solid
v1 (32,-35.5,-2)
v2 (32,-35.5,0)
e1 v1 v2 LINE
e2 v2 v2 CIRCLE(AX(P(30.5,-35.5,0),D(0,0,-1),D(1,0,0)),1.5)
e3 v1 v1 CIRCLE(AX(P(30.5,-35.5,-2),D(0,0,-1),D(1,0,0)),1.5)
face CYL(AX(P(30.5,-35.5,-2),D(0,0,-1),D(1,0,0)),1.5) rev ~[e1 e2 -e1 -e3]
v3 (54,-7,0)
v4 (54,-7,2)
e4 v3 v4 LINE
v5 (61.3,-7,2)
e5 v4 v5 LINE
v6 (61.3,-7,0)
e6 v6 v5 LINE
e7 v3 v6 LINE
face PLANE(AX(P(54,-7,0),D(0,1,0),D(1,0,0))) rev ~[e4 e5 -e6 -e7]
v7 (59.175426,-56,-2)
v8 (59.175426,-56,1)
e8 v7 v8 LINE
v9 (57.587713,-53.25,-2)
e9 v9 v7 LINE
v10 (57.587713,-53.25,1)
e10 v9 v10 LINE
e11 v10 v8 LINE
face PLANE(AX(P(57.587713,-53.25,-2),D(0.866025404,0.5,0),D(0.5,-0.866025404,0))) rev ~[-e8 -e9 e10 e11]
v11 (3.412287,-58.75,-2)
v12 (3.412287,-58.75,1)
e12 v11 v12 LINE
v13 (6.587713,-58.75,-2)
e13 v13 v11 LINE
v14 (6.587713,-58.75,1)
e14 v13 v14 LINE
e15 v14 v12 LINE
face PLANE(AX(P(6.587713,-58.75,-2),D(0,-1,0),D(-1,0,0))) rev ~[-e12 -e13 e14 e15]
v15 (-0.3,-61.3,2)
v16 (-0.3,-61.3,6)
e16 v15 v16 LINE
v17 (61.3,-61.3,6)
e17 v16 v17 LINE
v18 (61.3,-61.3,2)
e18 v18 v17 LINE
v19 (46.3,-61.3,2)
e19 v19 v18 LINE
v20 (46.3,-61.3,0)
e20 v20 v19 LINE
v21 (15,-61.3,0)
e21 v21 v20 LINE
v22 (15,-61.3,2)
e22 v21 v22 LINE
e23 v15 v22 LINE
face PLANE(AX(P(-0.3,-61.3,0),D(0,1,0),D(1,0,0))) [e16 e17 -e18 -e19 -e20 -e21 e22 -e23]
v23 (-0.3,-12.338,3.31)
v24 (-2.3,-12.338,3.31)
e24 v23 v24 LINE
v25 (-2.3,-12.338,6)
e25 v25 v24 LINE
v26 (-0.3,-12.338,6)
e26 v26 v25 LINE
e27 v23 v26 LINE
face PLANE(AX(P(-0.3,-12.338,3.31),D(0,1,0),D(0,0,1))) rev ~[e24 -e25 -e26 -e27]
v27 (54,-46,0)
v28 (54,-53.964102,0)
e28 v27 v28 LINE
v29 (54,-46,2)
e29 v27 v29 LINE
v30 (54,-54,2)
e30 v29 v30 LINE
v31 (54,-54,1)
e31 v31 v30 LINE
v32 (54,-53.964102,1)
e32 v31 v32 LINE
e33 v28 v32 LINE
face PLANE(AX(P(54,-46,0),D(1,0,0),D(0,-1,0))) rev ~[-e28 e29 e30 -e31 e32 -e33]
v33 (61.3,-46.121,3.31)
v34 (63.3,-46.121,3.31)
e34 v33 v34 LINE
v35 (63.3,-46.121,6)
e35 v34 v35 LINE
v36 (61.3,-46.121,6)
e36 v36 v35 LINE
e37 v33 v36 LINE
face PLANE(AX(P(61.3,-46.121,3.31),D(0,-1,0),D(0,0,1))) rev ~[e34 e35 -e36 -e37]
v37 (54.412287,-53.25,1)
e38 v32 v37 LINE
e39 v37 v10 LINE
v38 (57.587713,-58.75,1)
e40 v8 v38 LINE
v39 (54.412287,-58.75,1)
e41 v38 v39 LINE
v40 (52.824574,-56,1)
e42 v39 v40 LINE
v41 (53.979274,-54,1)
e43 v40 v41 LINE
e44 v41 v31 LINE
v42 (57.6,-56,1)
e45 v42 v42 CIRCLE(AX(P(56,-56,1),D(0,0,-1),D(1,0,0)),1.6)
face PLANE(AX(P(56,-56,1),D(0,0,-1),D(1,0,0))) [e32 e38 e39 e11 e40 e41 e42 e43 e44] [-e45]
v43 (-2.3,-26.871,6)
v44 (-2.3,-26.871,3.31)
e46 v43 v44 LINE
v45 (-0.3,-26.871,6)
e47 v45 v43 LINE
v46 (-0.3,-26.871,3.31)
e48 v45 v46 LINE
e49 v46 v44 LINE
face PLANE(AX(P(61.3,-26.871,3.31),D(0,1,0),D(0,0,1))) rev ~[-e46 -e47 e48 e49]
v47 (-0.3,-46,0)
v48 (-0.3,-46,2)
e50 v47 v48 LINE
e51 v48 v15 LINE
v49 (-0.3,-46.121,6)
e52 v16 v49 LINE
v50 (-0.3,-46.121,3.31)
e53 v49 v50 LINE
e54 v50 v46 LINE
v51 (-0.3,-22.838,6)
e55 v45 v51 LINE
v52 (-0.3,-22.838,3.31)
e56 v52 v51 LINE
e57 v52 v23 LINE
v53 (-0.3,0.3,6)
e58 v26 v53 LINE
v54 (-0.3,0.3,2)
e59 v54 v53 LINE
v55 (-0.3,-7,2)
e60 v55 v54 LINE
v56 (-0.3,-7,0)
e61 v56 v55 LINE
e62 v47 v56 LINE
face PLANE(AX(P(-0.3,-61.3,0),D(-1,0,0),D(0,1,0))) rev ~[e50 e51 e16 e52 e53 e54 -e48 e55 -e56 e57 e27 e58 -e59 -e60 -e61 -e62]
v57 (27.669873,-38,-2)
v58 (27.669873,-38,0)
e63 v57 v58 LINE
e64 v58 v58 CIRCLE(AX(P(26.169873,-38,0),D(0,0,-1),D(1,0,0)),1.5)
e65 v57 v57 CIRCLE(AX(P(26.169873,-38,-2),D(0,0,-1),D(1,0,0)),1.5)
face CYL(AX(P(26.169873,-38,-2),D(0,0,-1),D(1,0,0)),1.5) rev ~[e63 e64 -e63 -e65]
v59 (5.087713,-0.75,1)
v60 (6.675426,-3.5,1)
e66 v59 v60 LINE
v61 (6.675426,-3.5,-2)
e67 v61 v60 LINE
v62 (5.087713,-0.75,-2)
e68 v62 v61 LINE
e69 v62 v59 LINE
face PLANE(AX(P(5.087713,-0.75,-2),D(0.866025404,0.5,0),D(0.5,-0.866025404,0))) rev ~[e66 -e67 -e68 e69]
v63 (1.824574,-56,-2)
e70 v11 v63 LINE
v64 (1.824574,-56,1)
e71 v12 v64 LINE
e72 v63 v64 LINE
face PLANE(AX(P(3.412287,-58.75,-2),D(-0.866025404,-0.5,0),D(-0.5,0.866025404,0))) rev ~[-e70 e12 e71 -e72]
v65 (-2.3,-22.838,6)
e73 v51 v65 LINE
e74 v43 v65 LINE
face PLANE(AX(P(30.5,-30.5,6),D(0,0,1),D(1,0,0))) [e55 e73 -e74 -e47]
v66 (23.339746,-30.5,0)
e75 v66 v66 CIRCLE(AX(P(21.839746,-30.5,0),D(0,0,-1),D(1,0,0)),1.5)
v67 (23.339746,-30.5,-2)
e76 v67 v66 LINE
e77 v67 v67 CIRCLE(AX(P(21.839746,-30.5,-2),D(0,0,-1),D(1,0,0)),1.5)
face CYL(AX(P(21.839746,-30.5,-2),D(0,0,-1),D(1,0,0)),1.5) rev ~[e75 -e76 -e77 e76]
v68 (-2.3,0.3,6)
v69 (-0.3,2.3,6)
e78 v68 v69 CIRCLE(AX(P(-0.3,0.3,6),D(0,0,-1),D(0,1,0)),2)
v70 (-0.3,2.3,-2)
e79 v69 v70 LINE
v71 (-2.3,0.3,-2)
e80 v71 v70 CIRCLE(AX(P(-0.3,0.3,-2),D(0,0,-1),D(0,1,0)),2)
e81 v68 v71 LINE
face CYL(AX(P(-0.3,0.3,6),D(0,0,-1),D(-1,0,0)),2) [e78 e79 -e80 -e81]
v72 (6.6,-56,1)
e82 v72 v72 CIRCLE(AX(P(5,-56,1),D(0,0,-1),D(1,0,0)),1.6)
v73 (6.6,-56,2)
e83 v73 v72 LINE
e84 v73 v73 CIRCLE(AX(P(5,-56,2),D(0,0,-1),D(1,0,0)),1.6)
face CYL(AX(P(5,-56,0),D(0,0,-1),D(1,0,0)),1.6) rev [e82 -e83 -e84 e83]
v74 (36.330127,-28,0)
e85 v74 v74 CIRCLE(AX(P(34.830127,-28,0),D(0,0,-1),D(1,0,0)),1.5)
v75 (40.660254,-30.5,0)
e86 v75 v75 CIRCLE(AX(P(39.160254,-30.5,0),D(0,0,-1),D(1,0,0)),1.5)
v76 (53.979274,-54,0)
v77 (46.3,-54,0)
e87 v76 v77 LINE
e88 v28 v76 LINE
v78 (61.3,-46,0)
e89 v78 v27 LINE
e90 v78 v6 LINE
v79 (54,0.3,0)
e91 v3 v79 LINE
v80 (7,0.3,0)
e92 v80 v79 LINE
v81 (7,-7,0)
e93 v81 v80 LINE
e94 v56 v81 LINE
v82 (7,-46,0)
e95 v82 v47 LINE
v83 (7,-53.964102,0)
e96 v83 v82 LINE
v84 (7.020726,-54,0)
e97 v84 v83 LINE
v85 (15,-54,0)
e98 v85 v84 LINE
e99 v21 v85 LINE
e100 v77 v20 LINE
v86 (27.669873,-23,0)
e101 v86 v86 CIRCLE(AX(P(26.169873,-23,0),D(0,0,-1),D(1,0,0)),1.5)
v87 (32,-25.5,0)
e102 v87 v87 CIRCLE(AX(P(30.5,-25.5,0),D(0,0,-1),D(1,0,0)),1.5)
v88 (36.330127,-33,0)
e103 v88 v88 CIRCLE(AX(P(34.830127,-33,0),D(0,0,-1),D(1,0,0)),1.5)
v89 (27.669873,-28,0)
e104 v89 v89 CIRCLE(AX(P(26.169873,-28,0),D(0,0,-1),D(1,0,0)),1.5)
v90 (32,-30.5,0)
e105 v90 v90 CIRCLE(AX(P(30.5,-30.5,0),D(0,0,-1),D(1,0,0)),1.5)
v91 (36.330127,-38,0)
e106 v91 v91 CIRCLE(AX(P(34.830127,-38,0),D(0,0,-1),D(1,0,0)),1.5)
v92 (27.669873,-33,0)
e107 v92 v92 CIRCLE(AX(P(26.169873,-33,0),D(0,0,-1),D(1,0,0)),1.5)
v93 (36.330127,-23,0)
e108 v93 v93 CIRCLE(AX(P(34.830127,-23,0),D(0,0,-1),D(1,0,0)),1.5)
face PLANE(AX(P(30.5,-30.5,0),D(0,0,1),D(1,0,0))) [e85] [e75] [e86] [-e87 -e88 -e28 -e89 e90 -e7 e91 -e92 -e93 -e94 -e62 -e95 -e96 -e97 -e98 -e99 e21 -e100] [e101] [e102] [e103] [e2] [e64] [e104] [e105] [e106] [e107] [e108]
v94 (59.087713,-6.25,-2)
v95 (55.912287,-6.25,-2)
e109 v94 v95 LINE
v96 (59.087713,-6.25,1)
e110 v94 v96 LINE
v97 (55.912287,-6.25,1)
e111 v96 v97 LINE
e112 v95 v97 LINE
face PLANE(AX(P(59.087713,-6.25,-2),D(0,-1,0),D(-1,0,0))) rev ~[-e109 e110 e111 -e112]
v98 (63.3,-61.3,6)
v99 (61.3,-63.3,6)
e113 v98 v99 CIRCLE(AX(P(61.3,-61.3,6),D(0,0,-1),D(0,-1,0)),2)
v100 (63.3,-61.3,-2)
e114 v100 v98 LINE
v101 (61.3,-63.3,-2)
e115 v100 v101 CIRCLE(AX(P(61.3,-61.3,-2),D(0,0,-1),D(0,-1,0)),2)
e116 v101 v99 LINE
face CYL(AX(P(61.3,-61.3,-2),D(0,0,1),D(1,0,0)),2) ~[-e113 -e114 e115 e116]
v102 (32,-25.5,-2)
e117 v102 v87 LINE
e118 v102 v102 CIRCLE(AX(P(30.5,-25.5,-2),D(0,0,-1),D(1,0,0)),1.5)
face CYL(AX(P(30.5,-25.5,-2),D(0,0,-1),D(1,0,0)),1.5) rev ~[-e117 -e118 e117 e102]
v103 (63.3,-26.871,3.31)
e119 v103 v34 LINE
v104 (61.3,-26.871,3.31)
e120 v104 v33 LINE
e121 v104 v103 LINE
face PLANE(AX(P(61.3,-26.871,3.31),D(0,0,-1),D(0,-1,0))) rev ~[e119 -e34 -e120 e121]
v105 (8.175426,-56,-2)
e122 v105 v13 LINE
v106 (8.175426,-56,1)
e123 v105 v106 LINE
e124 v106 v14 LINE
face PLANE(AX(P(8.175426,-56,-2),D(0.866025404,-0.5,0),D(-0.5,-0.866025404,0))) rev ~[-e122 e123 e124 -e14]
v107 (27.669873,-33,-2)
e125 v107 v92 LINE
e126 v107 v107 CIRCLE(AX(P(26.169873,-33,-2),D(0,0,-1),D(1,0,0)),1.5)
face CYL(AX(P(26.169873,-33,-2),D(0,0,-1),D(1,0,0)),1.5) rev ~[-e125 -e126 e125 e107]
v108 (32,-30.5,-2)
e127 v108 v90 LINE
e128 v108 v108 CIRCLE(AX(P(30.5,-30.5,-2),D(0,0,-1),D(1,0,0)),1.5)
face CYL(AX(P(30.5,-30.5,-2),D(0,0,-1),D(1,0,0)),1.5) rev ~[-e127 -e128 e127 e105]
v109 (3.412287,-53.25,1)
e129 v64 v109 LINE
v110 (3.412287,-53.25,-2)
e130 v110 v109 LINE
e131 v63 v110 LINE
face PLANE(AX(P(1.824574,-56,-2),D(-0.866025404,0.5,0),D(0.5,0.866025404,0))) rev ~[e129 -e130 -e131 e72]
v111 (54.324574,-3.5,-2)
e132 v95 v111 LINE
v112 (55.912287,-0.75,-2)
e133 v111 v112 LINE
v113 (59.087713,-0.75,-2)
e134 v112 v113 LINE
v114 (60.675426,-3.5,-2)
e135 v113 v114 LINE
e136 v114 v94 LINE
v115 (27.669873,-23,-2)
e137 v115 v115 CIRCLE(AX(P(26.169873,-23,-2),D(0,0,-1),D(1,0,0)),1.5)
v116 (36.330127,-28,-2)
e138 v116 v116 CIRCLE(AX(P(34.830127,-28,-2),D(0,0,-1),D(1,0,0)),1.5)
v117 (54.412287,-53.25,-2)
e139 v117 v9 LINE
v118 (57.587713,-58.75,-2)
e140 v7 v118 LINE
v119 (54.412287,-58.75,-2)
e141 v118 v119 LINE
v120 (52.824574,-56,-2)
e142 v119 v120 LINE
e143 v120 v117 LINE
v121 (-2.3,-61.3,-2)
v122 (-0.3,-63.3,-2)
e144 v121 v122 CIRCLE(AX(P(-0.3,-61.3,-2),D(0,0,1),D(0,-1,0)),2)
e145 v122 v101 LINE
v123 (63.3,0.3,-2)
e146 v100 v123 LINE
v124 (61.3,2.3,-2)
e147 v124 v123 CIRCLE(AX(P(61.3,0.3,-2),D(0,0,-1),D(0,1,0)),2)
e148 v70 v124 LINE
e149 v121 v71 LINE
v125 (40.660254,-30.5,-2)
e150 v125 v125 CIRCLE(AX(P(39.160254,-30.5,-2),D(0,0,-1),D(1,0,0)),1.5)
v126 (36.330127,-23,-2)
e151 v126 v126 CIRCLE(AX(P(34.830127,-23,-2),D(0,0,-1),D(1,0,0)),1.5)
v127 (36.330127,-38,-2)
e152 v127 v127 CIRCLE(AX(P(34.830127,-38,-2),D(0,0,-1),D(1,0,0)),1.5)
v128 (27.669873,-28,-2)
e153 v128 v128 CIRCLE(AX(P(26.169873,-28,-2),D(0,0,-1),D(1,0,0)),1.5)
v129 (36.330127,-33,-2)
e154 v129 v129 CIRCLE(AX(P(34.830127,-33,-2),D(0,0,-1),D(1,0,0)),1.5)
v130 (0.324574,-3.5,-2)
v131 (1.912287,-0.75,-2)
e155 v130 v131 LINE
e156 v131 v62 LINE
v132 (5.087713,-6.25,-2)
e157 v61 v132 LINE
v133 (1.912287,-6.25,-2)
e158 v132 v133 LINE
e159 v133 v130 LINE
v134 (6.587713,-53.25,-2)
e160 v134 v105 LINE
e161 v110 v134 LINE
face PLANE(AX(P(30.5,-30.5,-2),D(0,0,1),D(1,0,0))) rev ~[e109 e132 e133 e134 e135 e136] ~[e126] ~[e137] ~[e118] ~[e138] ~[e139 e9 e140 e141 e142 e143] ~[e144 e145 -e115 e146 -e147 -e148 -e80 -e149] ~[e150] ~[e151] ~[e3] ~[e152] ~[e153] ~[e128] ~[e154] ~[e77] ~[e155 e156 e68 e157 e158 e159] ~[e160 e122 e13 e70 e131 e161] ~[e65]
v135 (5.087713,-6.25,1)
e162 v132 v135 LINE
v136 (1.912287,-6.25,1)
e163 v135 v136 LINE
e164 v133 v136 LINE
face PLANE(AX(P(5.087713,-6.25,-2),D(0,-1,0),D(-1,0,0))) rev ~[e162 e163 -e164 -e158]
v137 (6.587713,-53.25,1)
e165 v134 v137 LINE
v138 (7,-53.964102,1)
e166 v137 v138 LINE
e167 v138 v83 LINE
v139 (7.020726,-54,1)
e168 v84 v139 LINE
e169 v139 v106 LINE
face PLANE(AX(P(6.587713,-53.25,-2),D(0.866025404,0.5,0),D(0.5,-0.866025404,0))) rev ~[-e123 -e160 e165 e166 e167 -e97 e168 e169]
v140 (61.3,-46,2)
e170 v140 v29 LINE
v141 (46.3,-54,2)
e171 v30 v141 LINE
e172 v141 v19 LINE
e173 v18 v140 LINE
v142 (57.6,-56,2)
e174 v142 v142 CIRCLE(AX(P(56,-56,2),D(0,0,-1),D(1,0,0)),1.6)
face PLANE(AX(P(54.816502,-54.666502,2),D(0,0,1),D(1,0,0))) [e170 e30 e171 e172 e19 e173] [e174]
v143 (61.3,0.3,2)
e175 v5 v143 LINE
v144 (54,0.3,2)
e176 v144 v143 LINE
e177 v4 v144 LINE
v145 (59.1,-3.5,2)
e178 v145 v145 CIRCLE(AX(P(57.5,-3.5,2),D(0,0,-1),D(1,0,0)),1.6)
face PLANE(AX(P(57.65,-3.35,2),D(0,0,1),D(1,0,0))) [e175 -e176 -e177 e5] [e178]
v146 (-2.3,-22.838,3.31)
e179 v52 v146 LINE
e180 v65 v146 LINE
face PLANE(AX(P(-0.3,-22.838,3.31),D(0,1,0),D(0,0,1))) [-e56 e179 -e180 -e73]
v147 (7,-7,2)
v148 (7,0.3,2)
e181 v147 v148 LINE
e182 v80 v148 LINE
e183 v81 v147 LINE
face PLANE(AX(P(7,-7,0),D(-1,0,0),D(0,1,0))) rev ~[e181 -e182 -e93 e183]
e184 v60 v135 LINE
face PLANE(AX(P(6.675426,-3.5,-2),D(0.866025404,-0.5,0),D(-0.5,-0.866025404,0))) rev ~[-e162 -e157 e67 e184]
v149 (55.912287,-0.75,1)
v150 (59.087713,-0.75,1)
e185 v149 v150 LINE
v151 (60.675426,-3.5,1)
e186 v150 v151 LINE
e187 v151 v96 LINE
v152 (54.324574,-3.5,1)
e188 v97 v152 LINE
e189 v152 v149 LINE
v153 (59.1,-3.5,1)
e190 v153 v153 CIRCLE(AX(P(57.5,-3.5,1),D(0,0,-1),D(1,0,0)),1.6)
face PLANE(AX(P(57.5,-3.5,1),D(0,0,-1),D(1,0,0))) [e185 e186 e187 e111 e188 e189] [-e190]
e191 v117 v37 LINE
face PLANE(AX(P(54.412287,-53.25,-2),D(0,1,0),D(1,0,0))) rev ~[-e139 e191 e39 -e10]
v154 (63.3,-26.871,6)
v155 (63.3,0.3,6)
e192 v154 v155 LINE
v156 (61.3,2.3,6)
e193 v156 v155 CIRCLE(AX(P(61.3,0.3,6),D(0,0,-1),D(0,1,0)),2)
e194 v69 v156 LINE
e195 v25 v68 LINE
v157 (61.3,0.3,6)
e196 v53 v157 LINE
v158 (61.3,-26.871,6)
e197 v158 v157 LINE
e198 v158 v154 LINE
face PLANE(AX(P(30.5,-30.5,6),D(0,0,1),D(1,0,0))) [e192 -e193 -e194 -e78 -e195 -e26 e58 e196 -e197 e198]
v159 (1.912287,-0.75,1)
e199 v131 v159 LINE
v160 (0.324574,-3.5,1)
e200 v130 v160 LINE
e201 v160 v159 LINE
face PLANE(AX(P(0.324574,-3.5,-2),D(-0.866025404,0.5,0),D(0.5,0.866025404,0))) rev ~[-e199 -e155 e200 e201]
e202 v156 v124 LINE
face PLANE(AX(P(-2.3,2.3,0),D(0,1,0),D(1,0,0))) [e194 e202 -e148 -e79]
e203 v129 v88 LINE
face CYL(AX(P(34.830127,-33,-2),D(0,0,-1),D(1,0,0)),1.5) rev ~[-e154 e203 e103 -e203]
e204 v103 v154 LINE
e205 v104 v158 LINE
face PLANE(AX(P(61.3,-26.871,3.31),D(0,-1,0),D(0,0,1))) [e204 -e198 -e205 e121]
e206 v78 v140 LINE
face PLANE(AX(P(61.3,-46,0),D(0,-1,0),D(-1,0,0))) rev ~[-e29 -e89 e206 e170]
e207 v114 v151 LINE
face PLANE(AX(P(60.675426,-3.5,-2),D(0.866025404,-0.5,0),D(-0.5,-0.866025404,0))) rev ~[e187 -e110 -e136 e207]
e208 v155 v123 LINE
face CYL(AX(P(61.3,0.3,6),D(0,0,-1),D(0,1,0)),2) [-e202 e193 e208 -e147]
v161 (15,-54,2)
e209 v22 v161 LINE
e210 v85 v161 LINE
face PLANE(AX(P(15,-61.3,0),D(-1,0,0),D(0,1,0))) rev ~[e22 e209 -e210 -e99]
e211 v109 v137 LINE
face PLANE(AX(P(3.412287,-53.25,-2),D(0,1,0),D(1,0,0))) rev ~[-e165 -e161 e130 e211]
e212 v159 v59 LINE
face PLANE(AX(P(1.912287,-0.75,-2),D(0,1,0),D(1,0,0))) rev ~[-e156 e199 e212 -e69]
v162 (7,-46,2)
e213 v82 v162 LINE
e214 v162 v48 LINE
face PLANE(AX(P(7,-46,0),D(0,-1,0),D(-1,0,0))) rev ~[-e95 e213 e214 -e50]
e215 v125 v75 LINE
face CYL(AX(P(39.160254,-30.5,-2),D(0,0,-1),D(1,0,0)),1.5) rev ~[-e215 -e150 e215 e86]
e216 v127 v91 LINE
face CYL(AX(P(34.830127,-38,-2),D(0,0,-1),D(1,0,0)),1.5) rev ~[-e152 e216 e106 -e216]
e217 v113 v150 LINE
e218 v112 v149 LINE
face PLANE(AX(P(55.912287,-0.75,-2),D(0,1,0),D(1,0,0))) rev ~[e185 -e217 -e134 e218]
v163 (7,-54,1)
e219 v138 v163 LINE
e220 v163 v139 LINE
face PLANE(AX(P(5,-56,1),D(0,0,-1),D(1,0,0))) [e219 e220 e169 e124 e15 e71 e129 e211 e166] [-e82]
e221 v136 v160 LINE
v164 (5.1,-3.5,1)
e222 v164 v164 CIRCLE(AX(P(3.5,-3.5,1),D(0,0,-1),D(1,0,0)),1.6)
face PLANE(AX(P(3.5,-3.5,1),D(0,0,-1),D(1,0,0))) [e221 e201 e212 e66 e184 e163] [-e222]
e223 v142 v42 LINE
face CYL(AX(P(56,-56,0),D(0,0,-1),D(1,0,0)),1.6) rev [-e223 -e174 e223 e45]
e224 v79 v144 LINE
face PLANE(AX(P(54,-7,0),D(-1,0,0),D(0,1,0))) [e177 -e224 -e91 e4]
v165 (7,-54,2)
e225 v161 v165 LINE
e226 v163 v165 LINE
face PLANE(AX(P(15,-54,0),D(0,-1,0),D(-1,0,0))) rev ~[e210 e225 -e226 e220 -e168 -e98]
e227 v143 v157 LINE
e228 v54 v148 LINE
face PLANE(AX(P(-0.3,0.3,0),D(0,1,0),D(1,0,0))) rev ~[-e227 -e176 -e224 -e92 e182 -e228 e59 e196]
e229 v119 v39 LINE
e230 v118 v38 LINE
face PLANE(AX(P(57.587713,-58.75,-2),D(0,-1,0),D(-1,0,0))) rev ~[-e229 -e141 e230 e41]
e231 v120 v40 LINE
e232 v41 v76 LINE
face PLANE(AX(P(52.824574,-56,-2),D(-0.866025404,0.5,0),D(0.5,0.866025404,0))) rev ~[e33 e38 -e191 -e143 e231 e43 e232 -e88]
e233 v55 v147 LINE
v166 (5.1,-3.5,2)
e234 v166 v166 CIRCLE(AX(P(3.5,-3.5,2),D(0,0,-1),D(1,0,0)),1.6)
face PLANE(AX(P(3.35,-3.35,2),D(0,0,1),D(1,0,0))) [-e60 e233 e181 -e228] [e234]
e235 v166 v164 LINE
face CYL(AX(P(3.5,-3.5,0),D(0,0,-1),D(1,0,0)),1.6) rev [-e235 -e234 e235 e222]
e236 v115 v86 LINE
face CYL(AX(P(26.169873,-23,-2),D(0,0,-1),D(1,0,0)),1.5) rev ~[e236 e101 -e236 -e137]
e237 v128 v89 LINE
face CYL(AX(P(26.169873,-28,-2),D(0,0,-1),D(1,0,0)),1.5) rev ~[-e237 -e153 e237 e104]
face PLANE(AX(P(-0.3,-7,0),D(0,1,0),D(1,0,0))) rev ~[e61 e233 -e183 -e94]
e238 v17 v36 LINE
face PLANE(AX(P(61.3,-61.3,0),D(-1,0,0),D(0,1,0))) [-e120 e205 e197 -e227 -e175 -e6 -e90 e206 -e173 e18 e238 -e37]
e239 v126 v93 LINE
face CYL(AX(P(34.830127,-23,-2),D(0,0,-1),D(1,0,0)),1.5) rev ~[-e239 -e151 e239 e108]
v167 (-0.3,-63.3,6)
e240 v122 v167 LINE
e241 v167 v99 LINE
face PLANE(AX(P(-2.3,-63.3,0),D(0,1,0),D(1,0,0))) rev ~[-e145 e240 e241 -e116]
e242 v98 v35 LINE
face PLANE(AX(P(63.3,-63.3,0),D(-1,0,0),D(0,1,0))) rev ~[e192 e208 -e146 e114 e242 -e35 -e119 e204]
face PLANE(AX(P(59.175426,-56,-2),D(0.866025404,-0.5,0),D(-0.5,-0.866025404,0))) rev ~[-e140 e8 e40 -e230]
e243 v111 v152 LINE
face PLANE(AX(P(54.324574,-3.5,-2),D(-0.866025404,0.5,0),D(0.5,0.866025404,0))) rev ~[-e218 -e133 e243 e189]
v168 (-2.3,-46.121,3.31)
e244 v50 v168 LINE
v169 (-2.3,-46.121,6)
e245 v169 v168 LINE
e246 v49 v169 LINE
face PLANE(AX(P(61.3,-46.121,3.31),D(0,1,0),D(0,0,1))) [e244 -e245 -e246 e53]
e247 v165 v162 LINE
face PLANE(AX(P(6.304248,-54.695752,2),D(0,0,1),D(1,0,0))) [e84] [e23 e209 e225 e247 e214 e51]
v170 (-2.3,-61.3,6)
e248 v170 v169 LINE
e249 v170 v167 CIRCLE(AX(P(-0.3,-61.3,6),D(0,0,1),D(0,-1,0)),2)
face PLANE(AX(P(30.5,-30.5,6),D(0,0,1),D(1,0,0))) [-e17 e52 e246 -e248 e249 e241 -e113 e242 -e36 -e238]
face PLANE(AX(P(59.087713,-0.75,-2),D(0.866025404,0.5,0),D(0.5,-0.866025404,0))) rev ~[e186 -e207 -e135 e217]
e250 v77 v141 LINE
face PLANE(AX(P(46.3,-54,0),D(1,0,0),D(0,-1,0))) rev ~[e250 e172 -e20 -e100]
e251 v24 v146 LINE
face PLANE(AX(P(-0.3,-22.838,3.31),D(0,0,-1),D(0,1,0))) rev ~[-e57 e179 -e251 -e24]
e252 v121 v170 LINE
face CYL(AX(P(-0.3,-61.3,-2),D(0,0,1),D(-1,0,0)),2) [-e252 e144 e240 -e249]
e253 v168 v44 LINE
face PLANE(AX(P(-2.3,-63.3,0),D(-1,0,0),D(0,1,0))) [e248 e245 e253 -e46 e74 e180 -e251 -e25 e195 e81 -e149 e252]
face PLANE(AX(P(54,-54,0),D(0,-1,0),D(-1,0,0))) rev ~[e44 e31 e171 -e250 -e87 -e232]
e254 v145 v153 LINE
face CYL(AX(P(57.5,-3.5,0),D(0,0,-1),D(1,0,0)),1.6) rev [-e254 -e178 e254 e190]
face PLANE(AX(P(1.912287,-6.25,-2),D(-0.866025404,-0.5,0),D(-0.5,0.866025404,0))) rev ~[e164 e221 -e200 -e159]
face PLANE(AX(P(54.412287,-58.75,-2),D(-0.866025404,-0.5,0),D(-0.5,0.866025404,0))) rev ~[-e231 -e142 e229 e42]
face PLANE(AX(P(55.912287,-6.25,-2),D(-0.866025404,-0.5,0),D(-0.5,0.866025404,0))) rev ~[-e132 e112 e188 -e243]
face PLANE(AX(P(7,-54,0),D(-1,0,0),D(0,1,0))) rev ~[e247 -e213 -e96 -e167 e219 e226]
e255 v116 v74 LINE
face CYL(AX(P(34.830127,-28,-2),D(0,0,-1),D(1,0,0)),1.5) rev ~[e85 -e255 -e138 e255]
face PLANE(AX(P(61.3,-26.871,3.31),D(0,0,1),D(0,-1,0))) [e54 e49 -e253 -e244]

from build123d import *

# Parameters (mm, degrees)
F0_W          = 65.6000001021
F0_H          = 65.6000001021
F0_W_2        = 61.6
F0_H_2        = 61.6
F0_R          = 1.6
F1_DEPTH      = 2
F2_DEPTH      = 6
F3_W          = 7.3
F3_H          = 7.3
F4_DEPTH      = 2
F5_DEPTH      = 6.001
F6_W          = 19.25
F6_H          = 2.69
F7_DEPTH      = 2.001000051
F7_DEPTH_BACK = 63.601000051
F8_W          = 10.5
F8_H          = 2.69
F9_DEPTH      = 2.001000051
F11_DEPTH     = 3
F12_R         = 1.5
F13_DEPTH     = 8.001
F14_R         = 2


with BuildPart() as f1:
    # F0 (on Top) → F1 (new body)
    with BuildSketch(Plane.XY):
        with Locations((30.5, -30.5)):
            Rectangle(F0_W, F0_H)
        with Locations((30.5, -30.5)):
            Rectangle(F0_W_2, F0_H_2, mode=Mode.SUBTRACT)
        with Locations((30.5, -30.5)):
            Rectangle(F0_W_2, F0_H_2)
        with Locations((5, -56)):
            Circle(F0_R, mode=Mode.SUBTRACT)
        with Locations((56, -56)):
            Circle(F0_R, mode=Mode.SUBTRACT)
        with Locations((3.5, -3.5)):
            Circle(F0_R, mode=Mode.SUBTRACT)
        with Locations((57.5, -3.5)):
            Circle(F0_R, mode=Mode.SUBTRACT)
    extrude(amount=-F1_DEPTH)

    # F0 (on Top) → F2 (join)
    with BuildSketch(Plane.XY):
        with Locations((30.5, -30.5)):
            Rectangle(F0_W, F0_H)
        with Locations((30.5, -30.5)):
            Rectangle(F0_W_2, F0_H_2, mode=Mode.SUBTRACT)
    extrude(amount=F2_DEPTH)

    # F3 (on face) → F4 (join)
    with BuildSketch(Plane.XY):
        with Locations((57.65, -3.35)):
            Rectangle(F3_W, F3_H)
        with Locations((3.35, -3.35)):
            Rectangle(F3_W, F3_H)
        Polygon((7, -46), (-0.3, -46), (-0.3, -61.3), (15, -61.3), (15, -54), (7, -54), align=None)
        Polygon((61.3, -61.3), (61.3, -46), (54, -46), (54, -54), (46.3, -54), (46.3, -61.3), align=None)
    extrude(amount=F4_DEPTH)

    # F0 (on Top) → F5 (cut, through all)
    with BuildSketch(Plane.XY):
        with Locations((3.5, -3.5)):
            Circle(F0_R)
        with Locations((57.5, -3.5)):
            Circle(F0_R)
        with Locations((5, -56)):
            Circle(F0_R)
        with Locations((56, -56)):
            Circle(F0_R)
    extrude(amount=F5_DEPTH, mode=Mode.SUBTRACT)

    # F6 (on face) → F7 (cut, two sides)
    with BuildSketch(Plane(origin=(61.3, 0, 0), x_dir=(0, -1, 0), z_dir=(-1, 0, 0))) as f7_sk:
        with Locations((36.496, 4.655)):
            Rectangle(F6_W, F6_H)
    extrude(amount=-F7_DEPTH, mode=Mode.SUBTRACT)
    extrude(f7_sk.sketch, amount=F7_DEPTH_BACK, mode=Mode.SUBTRACT)

    # F8 (on face) → F9 (cut, through all)
    with BuildSketch(Plane.YZ.offset(-0.3)):
        with Locations((-17.588, 4.655)):
            Rectangle(F8_W, F8_H)
    extrude(amount=-F9_DEPTH, mode=Mode.SUBTRACT)

    # F10 (on face) → F11 (cut)
    with BuildSketch(Plane(origin=(0, 0, -2), x_dir=(1, 0, 0), z_dir=(0, 0, -1))):
        Polygon((1.9122867597, 6.25), (0.3245735195, 3.5), (1.9122867597, 0.75), (5.0877132403, 0.75), (6.6754264805, 3.5), (5.0877132403, 6.25), align=None)
        Polygon((55.9122867597, 0.75), (59.0877132403, 0.75), (60.6754264805, 3.5), (59.0877132403, 6.25), (55.9122867597, 6.25), (54.3245735195, 3.5), align=None)
        Polygon((6.5877132403, 53.25), (8.1754264805, 56), (6.5877132403, 58.75), (3.4122867597, 58.75), (1.8245735195, 56), (3.4122867597, 53.25), align=None)
        Polygon((54.4122867597, 53.25), (57.5877132403, 53.25), (59.1754264805, 56), (57.5877132403, 58.75), (54.4122867597, 58.75), (52.8245735195, 56), align=None)
    extrude(amount=-F11_DEPTH, mode=Mode.SUBTRACT)

    # F12 (on face) → F13 (cut, through all)
    with BuildSketch(Plane(origin=(0, 0, -2), x_dir=(1, 0, 0), z_dir=(0, 0, -1))):
        with Locations((30.5, 30.5)):
            Circle(F12_R)
        with Locations((30.5, 35.5)):
            Circle(F12_R)
        with Locations((26.1698729811, 33)):
            Circle(F12_R)
        with Locations((26.1698729811, 28)):
            Circle(F12_R)
        with Locations((30.5, 25.5)):
            Circle(F12_R)
        with Locations((34.8301270189, 28)):
            Circle(F12_R)
        with Locations((34.8301270189, 33)):
            Circle(F12_R)
        with Locations((26.1698729811, 38)):
            Circle(F12_R)
        with Locations((21.8397459622, 30.5)):
            Circle(F12_R)
        with Locations((26.1698729811, 23)):
            Circle(F12_R)
        with Locations((34.8301270189, 23)):
            Circle(F12_R)
        with Locations((39.1602540378, 30.5)):
            Circle(F12_R)
        with Locations((34.8301270189, 38)):
            Circle(F12_R)
    extrude(amount=-F13_DEPTH, mode=Mode.SUBTRACT)

    # F14
    f14_edges = [f1.edges().sort_by_distance(p)[0] for p in [
        (-2.3, -63.3, 2),
        (-2.3, 2.3, 2),
        (63.3, 2.3, 2),
        (63.3, -63.3, 2),
    ]]
    fillet(f14_edges, radius=F14_R)


solid = f1.part
